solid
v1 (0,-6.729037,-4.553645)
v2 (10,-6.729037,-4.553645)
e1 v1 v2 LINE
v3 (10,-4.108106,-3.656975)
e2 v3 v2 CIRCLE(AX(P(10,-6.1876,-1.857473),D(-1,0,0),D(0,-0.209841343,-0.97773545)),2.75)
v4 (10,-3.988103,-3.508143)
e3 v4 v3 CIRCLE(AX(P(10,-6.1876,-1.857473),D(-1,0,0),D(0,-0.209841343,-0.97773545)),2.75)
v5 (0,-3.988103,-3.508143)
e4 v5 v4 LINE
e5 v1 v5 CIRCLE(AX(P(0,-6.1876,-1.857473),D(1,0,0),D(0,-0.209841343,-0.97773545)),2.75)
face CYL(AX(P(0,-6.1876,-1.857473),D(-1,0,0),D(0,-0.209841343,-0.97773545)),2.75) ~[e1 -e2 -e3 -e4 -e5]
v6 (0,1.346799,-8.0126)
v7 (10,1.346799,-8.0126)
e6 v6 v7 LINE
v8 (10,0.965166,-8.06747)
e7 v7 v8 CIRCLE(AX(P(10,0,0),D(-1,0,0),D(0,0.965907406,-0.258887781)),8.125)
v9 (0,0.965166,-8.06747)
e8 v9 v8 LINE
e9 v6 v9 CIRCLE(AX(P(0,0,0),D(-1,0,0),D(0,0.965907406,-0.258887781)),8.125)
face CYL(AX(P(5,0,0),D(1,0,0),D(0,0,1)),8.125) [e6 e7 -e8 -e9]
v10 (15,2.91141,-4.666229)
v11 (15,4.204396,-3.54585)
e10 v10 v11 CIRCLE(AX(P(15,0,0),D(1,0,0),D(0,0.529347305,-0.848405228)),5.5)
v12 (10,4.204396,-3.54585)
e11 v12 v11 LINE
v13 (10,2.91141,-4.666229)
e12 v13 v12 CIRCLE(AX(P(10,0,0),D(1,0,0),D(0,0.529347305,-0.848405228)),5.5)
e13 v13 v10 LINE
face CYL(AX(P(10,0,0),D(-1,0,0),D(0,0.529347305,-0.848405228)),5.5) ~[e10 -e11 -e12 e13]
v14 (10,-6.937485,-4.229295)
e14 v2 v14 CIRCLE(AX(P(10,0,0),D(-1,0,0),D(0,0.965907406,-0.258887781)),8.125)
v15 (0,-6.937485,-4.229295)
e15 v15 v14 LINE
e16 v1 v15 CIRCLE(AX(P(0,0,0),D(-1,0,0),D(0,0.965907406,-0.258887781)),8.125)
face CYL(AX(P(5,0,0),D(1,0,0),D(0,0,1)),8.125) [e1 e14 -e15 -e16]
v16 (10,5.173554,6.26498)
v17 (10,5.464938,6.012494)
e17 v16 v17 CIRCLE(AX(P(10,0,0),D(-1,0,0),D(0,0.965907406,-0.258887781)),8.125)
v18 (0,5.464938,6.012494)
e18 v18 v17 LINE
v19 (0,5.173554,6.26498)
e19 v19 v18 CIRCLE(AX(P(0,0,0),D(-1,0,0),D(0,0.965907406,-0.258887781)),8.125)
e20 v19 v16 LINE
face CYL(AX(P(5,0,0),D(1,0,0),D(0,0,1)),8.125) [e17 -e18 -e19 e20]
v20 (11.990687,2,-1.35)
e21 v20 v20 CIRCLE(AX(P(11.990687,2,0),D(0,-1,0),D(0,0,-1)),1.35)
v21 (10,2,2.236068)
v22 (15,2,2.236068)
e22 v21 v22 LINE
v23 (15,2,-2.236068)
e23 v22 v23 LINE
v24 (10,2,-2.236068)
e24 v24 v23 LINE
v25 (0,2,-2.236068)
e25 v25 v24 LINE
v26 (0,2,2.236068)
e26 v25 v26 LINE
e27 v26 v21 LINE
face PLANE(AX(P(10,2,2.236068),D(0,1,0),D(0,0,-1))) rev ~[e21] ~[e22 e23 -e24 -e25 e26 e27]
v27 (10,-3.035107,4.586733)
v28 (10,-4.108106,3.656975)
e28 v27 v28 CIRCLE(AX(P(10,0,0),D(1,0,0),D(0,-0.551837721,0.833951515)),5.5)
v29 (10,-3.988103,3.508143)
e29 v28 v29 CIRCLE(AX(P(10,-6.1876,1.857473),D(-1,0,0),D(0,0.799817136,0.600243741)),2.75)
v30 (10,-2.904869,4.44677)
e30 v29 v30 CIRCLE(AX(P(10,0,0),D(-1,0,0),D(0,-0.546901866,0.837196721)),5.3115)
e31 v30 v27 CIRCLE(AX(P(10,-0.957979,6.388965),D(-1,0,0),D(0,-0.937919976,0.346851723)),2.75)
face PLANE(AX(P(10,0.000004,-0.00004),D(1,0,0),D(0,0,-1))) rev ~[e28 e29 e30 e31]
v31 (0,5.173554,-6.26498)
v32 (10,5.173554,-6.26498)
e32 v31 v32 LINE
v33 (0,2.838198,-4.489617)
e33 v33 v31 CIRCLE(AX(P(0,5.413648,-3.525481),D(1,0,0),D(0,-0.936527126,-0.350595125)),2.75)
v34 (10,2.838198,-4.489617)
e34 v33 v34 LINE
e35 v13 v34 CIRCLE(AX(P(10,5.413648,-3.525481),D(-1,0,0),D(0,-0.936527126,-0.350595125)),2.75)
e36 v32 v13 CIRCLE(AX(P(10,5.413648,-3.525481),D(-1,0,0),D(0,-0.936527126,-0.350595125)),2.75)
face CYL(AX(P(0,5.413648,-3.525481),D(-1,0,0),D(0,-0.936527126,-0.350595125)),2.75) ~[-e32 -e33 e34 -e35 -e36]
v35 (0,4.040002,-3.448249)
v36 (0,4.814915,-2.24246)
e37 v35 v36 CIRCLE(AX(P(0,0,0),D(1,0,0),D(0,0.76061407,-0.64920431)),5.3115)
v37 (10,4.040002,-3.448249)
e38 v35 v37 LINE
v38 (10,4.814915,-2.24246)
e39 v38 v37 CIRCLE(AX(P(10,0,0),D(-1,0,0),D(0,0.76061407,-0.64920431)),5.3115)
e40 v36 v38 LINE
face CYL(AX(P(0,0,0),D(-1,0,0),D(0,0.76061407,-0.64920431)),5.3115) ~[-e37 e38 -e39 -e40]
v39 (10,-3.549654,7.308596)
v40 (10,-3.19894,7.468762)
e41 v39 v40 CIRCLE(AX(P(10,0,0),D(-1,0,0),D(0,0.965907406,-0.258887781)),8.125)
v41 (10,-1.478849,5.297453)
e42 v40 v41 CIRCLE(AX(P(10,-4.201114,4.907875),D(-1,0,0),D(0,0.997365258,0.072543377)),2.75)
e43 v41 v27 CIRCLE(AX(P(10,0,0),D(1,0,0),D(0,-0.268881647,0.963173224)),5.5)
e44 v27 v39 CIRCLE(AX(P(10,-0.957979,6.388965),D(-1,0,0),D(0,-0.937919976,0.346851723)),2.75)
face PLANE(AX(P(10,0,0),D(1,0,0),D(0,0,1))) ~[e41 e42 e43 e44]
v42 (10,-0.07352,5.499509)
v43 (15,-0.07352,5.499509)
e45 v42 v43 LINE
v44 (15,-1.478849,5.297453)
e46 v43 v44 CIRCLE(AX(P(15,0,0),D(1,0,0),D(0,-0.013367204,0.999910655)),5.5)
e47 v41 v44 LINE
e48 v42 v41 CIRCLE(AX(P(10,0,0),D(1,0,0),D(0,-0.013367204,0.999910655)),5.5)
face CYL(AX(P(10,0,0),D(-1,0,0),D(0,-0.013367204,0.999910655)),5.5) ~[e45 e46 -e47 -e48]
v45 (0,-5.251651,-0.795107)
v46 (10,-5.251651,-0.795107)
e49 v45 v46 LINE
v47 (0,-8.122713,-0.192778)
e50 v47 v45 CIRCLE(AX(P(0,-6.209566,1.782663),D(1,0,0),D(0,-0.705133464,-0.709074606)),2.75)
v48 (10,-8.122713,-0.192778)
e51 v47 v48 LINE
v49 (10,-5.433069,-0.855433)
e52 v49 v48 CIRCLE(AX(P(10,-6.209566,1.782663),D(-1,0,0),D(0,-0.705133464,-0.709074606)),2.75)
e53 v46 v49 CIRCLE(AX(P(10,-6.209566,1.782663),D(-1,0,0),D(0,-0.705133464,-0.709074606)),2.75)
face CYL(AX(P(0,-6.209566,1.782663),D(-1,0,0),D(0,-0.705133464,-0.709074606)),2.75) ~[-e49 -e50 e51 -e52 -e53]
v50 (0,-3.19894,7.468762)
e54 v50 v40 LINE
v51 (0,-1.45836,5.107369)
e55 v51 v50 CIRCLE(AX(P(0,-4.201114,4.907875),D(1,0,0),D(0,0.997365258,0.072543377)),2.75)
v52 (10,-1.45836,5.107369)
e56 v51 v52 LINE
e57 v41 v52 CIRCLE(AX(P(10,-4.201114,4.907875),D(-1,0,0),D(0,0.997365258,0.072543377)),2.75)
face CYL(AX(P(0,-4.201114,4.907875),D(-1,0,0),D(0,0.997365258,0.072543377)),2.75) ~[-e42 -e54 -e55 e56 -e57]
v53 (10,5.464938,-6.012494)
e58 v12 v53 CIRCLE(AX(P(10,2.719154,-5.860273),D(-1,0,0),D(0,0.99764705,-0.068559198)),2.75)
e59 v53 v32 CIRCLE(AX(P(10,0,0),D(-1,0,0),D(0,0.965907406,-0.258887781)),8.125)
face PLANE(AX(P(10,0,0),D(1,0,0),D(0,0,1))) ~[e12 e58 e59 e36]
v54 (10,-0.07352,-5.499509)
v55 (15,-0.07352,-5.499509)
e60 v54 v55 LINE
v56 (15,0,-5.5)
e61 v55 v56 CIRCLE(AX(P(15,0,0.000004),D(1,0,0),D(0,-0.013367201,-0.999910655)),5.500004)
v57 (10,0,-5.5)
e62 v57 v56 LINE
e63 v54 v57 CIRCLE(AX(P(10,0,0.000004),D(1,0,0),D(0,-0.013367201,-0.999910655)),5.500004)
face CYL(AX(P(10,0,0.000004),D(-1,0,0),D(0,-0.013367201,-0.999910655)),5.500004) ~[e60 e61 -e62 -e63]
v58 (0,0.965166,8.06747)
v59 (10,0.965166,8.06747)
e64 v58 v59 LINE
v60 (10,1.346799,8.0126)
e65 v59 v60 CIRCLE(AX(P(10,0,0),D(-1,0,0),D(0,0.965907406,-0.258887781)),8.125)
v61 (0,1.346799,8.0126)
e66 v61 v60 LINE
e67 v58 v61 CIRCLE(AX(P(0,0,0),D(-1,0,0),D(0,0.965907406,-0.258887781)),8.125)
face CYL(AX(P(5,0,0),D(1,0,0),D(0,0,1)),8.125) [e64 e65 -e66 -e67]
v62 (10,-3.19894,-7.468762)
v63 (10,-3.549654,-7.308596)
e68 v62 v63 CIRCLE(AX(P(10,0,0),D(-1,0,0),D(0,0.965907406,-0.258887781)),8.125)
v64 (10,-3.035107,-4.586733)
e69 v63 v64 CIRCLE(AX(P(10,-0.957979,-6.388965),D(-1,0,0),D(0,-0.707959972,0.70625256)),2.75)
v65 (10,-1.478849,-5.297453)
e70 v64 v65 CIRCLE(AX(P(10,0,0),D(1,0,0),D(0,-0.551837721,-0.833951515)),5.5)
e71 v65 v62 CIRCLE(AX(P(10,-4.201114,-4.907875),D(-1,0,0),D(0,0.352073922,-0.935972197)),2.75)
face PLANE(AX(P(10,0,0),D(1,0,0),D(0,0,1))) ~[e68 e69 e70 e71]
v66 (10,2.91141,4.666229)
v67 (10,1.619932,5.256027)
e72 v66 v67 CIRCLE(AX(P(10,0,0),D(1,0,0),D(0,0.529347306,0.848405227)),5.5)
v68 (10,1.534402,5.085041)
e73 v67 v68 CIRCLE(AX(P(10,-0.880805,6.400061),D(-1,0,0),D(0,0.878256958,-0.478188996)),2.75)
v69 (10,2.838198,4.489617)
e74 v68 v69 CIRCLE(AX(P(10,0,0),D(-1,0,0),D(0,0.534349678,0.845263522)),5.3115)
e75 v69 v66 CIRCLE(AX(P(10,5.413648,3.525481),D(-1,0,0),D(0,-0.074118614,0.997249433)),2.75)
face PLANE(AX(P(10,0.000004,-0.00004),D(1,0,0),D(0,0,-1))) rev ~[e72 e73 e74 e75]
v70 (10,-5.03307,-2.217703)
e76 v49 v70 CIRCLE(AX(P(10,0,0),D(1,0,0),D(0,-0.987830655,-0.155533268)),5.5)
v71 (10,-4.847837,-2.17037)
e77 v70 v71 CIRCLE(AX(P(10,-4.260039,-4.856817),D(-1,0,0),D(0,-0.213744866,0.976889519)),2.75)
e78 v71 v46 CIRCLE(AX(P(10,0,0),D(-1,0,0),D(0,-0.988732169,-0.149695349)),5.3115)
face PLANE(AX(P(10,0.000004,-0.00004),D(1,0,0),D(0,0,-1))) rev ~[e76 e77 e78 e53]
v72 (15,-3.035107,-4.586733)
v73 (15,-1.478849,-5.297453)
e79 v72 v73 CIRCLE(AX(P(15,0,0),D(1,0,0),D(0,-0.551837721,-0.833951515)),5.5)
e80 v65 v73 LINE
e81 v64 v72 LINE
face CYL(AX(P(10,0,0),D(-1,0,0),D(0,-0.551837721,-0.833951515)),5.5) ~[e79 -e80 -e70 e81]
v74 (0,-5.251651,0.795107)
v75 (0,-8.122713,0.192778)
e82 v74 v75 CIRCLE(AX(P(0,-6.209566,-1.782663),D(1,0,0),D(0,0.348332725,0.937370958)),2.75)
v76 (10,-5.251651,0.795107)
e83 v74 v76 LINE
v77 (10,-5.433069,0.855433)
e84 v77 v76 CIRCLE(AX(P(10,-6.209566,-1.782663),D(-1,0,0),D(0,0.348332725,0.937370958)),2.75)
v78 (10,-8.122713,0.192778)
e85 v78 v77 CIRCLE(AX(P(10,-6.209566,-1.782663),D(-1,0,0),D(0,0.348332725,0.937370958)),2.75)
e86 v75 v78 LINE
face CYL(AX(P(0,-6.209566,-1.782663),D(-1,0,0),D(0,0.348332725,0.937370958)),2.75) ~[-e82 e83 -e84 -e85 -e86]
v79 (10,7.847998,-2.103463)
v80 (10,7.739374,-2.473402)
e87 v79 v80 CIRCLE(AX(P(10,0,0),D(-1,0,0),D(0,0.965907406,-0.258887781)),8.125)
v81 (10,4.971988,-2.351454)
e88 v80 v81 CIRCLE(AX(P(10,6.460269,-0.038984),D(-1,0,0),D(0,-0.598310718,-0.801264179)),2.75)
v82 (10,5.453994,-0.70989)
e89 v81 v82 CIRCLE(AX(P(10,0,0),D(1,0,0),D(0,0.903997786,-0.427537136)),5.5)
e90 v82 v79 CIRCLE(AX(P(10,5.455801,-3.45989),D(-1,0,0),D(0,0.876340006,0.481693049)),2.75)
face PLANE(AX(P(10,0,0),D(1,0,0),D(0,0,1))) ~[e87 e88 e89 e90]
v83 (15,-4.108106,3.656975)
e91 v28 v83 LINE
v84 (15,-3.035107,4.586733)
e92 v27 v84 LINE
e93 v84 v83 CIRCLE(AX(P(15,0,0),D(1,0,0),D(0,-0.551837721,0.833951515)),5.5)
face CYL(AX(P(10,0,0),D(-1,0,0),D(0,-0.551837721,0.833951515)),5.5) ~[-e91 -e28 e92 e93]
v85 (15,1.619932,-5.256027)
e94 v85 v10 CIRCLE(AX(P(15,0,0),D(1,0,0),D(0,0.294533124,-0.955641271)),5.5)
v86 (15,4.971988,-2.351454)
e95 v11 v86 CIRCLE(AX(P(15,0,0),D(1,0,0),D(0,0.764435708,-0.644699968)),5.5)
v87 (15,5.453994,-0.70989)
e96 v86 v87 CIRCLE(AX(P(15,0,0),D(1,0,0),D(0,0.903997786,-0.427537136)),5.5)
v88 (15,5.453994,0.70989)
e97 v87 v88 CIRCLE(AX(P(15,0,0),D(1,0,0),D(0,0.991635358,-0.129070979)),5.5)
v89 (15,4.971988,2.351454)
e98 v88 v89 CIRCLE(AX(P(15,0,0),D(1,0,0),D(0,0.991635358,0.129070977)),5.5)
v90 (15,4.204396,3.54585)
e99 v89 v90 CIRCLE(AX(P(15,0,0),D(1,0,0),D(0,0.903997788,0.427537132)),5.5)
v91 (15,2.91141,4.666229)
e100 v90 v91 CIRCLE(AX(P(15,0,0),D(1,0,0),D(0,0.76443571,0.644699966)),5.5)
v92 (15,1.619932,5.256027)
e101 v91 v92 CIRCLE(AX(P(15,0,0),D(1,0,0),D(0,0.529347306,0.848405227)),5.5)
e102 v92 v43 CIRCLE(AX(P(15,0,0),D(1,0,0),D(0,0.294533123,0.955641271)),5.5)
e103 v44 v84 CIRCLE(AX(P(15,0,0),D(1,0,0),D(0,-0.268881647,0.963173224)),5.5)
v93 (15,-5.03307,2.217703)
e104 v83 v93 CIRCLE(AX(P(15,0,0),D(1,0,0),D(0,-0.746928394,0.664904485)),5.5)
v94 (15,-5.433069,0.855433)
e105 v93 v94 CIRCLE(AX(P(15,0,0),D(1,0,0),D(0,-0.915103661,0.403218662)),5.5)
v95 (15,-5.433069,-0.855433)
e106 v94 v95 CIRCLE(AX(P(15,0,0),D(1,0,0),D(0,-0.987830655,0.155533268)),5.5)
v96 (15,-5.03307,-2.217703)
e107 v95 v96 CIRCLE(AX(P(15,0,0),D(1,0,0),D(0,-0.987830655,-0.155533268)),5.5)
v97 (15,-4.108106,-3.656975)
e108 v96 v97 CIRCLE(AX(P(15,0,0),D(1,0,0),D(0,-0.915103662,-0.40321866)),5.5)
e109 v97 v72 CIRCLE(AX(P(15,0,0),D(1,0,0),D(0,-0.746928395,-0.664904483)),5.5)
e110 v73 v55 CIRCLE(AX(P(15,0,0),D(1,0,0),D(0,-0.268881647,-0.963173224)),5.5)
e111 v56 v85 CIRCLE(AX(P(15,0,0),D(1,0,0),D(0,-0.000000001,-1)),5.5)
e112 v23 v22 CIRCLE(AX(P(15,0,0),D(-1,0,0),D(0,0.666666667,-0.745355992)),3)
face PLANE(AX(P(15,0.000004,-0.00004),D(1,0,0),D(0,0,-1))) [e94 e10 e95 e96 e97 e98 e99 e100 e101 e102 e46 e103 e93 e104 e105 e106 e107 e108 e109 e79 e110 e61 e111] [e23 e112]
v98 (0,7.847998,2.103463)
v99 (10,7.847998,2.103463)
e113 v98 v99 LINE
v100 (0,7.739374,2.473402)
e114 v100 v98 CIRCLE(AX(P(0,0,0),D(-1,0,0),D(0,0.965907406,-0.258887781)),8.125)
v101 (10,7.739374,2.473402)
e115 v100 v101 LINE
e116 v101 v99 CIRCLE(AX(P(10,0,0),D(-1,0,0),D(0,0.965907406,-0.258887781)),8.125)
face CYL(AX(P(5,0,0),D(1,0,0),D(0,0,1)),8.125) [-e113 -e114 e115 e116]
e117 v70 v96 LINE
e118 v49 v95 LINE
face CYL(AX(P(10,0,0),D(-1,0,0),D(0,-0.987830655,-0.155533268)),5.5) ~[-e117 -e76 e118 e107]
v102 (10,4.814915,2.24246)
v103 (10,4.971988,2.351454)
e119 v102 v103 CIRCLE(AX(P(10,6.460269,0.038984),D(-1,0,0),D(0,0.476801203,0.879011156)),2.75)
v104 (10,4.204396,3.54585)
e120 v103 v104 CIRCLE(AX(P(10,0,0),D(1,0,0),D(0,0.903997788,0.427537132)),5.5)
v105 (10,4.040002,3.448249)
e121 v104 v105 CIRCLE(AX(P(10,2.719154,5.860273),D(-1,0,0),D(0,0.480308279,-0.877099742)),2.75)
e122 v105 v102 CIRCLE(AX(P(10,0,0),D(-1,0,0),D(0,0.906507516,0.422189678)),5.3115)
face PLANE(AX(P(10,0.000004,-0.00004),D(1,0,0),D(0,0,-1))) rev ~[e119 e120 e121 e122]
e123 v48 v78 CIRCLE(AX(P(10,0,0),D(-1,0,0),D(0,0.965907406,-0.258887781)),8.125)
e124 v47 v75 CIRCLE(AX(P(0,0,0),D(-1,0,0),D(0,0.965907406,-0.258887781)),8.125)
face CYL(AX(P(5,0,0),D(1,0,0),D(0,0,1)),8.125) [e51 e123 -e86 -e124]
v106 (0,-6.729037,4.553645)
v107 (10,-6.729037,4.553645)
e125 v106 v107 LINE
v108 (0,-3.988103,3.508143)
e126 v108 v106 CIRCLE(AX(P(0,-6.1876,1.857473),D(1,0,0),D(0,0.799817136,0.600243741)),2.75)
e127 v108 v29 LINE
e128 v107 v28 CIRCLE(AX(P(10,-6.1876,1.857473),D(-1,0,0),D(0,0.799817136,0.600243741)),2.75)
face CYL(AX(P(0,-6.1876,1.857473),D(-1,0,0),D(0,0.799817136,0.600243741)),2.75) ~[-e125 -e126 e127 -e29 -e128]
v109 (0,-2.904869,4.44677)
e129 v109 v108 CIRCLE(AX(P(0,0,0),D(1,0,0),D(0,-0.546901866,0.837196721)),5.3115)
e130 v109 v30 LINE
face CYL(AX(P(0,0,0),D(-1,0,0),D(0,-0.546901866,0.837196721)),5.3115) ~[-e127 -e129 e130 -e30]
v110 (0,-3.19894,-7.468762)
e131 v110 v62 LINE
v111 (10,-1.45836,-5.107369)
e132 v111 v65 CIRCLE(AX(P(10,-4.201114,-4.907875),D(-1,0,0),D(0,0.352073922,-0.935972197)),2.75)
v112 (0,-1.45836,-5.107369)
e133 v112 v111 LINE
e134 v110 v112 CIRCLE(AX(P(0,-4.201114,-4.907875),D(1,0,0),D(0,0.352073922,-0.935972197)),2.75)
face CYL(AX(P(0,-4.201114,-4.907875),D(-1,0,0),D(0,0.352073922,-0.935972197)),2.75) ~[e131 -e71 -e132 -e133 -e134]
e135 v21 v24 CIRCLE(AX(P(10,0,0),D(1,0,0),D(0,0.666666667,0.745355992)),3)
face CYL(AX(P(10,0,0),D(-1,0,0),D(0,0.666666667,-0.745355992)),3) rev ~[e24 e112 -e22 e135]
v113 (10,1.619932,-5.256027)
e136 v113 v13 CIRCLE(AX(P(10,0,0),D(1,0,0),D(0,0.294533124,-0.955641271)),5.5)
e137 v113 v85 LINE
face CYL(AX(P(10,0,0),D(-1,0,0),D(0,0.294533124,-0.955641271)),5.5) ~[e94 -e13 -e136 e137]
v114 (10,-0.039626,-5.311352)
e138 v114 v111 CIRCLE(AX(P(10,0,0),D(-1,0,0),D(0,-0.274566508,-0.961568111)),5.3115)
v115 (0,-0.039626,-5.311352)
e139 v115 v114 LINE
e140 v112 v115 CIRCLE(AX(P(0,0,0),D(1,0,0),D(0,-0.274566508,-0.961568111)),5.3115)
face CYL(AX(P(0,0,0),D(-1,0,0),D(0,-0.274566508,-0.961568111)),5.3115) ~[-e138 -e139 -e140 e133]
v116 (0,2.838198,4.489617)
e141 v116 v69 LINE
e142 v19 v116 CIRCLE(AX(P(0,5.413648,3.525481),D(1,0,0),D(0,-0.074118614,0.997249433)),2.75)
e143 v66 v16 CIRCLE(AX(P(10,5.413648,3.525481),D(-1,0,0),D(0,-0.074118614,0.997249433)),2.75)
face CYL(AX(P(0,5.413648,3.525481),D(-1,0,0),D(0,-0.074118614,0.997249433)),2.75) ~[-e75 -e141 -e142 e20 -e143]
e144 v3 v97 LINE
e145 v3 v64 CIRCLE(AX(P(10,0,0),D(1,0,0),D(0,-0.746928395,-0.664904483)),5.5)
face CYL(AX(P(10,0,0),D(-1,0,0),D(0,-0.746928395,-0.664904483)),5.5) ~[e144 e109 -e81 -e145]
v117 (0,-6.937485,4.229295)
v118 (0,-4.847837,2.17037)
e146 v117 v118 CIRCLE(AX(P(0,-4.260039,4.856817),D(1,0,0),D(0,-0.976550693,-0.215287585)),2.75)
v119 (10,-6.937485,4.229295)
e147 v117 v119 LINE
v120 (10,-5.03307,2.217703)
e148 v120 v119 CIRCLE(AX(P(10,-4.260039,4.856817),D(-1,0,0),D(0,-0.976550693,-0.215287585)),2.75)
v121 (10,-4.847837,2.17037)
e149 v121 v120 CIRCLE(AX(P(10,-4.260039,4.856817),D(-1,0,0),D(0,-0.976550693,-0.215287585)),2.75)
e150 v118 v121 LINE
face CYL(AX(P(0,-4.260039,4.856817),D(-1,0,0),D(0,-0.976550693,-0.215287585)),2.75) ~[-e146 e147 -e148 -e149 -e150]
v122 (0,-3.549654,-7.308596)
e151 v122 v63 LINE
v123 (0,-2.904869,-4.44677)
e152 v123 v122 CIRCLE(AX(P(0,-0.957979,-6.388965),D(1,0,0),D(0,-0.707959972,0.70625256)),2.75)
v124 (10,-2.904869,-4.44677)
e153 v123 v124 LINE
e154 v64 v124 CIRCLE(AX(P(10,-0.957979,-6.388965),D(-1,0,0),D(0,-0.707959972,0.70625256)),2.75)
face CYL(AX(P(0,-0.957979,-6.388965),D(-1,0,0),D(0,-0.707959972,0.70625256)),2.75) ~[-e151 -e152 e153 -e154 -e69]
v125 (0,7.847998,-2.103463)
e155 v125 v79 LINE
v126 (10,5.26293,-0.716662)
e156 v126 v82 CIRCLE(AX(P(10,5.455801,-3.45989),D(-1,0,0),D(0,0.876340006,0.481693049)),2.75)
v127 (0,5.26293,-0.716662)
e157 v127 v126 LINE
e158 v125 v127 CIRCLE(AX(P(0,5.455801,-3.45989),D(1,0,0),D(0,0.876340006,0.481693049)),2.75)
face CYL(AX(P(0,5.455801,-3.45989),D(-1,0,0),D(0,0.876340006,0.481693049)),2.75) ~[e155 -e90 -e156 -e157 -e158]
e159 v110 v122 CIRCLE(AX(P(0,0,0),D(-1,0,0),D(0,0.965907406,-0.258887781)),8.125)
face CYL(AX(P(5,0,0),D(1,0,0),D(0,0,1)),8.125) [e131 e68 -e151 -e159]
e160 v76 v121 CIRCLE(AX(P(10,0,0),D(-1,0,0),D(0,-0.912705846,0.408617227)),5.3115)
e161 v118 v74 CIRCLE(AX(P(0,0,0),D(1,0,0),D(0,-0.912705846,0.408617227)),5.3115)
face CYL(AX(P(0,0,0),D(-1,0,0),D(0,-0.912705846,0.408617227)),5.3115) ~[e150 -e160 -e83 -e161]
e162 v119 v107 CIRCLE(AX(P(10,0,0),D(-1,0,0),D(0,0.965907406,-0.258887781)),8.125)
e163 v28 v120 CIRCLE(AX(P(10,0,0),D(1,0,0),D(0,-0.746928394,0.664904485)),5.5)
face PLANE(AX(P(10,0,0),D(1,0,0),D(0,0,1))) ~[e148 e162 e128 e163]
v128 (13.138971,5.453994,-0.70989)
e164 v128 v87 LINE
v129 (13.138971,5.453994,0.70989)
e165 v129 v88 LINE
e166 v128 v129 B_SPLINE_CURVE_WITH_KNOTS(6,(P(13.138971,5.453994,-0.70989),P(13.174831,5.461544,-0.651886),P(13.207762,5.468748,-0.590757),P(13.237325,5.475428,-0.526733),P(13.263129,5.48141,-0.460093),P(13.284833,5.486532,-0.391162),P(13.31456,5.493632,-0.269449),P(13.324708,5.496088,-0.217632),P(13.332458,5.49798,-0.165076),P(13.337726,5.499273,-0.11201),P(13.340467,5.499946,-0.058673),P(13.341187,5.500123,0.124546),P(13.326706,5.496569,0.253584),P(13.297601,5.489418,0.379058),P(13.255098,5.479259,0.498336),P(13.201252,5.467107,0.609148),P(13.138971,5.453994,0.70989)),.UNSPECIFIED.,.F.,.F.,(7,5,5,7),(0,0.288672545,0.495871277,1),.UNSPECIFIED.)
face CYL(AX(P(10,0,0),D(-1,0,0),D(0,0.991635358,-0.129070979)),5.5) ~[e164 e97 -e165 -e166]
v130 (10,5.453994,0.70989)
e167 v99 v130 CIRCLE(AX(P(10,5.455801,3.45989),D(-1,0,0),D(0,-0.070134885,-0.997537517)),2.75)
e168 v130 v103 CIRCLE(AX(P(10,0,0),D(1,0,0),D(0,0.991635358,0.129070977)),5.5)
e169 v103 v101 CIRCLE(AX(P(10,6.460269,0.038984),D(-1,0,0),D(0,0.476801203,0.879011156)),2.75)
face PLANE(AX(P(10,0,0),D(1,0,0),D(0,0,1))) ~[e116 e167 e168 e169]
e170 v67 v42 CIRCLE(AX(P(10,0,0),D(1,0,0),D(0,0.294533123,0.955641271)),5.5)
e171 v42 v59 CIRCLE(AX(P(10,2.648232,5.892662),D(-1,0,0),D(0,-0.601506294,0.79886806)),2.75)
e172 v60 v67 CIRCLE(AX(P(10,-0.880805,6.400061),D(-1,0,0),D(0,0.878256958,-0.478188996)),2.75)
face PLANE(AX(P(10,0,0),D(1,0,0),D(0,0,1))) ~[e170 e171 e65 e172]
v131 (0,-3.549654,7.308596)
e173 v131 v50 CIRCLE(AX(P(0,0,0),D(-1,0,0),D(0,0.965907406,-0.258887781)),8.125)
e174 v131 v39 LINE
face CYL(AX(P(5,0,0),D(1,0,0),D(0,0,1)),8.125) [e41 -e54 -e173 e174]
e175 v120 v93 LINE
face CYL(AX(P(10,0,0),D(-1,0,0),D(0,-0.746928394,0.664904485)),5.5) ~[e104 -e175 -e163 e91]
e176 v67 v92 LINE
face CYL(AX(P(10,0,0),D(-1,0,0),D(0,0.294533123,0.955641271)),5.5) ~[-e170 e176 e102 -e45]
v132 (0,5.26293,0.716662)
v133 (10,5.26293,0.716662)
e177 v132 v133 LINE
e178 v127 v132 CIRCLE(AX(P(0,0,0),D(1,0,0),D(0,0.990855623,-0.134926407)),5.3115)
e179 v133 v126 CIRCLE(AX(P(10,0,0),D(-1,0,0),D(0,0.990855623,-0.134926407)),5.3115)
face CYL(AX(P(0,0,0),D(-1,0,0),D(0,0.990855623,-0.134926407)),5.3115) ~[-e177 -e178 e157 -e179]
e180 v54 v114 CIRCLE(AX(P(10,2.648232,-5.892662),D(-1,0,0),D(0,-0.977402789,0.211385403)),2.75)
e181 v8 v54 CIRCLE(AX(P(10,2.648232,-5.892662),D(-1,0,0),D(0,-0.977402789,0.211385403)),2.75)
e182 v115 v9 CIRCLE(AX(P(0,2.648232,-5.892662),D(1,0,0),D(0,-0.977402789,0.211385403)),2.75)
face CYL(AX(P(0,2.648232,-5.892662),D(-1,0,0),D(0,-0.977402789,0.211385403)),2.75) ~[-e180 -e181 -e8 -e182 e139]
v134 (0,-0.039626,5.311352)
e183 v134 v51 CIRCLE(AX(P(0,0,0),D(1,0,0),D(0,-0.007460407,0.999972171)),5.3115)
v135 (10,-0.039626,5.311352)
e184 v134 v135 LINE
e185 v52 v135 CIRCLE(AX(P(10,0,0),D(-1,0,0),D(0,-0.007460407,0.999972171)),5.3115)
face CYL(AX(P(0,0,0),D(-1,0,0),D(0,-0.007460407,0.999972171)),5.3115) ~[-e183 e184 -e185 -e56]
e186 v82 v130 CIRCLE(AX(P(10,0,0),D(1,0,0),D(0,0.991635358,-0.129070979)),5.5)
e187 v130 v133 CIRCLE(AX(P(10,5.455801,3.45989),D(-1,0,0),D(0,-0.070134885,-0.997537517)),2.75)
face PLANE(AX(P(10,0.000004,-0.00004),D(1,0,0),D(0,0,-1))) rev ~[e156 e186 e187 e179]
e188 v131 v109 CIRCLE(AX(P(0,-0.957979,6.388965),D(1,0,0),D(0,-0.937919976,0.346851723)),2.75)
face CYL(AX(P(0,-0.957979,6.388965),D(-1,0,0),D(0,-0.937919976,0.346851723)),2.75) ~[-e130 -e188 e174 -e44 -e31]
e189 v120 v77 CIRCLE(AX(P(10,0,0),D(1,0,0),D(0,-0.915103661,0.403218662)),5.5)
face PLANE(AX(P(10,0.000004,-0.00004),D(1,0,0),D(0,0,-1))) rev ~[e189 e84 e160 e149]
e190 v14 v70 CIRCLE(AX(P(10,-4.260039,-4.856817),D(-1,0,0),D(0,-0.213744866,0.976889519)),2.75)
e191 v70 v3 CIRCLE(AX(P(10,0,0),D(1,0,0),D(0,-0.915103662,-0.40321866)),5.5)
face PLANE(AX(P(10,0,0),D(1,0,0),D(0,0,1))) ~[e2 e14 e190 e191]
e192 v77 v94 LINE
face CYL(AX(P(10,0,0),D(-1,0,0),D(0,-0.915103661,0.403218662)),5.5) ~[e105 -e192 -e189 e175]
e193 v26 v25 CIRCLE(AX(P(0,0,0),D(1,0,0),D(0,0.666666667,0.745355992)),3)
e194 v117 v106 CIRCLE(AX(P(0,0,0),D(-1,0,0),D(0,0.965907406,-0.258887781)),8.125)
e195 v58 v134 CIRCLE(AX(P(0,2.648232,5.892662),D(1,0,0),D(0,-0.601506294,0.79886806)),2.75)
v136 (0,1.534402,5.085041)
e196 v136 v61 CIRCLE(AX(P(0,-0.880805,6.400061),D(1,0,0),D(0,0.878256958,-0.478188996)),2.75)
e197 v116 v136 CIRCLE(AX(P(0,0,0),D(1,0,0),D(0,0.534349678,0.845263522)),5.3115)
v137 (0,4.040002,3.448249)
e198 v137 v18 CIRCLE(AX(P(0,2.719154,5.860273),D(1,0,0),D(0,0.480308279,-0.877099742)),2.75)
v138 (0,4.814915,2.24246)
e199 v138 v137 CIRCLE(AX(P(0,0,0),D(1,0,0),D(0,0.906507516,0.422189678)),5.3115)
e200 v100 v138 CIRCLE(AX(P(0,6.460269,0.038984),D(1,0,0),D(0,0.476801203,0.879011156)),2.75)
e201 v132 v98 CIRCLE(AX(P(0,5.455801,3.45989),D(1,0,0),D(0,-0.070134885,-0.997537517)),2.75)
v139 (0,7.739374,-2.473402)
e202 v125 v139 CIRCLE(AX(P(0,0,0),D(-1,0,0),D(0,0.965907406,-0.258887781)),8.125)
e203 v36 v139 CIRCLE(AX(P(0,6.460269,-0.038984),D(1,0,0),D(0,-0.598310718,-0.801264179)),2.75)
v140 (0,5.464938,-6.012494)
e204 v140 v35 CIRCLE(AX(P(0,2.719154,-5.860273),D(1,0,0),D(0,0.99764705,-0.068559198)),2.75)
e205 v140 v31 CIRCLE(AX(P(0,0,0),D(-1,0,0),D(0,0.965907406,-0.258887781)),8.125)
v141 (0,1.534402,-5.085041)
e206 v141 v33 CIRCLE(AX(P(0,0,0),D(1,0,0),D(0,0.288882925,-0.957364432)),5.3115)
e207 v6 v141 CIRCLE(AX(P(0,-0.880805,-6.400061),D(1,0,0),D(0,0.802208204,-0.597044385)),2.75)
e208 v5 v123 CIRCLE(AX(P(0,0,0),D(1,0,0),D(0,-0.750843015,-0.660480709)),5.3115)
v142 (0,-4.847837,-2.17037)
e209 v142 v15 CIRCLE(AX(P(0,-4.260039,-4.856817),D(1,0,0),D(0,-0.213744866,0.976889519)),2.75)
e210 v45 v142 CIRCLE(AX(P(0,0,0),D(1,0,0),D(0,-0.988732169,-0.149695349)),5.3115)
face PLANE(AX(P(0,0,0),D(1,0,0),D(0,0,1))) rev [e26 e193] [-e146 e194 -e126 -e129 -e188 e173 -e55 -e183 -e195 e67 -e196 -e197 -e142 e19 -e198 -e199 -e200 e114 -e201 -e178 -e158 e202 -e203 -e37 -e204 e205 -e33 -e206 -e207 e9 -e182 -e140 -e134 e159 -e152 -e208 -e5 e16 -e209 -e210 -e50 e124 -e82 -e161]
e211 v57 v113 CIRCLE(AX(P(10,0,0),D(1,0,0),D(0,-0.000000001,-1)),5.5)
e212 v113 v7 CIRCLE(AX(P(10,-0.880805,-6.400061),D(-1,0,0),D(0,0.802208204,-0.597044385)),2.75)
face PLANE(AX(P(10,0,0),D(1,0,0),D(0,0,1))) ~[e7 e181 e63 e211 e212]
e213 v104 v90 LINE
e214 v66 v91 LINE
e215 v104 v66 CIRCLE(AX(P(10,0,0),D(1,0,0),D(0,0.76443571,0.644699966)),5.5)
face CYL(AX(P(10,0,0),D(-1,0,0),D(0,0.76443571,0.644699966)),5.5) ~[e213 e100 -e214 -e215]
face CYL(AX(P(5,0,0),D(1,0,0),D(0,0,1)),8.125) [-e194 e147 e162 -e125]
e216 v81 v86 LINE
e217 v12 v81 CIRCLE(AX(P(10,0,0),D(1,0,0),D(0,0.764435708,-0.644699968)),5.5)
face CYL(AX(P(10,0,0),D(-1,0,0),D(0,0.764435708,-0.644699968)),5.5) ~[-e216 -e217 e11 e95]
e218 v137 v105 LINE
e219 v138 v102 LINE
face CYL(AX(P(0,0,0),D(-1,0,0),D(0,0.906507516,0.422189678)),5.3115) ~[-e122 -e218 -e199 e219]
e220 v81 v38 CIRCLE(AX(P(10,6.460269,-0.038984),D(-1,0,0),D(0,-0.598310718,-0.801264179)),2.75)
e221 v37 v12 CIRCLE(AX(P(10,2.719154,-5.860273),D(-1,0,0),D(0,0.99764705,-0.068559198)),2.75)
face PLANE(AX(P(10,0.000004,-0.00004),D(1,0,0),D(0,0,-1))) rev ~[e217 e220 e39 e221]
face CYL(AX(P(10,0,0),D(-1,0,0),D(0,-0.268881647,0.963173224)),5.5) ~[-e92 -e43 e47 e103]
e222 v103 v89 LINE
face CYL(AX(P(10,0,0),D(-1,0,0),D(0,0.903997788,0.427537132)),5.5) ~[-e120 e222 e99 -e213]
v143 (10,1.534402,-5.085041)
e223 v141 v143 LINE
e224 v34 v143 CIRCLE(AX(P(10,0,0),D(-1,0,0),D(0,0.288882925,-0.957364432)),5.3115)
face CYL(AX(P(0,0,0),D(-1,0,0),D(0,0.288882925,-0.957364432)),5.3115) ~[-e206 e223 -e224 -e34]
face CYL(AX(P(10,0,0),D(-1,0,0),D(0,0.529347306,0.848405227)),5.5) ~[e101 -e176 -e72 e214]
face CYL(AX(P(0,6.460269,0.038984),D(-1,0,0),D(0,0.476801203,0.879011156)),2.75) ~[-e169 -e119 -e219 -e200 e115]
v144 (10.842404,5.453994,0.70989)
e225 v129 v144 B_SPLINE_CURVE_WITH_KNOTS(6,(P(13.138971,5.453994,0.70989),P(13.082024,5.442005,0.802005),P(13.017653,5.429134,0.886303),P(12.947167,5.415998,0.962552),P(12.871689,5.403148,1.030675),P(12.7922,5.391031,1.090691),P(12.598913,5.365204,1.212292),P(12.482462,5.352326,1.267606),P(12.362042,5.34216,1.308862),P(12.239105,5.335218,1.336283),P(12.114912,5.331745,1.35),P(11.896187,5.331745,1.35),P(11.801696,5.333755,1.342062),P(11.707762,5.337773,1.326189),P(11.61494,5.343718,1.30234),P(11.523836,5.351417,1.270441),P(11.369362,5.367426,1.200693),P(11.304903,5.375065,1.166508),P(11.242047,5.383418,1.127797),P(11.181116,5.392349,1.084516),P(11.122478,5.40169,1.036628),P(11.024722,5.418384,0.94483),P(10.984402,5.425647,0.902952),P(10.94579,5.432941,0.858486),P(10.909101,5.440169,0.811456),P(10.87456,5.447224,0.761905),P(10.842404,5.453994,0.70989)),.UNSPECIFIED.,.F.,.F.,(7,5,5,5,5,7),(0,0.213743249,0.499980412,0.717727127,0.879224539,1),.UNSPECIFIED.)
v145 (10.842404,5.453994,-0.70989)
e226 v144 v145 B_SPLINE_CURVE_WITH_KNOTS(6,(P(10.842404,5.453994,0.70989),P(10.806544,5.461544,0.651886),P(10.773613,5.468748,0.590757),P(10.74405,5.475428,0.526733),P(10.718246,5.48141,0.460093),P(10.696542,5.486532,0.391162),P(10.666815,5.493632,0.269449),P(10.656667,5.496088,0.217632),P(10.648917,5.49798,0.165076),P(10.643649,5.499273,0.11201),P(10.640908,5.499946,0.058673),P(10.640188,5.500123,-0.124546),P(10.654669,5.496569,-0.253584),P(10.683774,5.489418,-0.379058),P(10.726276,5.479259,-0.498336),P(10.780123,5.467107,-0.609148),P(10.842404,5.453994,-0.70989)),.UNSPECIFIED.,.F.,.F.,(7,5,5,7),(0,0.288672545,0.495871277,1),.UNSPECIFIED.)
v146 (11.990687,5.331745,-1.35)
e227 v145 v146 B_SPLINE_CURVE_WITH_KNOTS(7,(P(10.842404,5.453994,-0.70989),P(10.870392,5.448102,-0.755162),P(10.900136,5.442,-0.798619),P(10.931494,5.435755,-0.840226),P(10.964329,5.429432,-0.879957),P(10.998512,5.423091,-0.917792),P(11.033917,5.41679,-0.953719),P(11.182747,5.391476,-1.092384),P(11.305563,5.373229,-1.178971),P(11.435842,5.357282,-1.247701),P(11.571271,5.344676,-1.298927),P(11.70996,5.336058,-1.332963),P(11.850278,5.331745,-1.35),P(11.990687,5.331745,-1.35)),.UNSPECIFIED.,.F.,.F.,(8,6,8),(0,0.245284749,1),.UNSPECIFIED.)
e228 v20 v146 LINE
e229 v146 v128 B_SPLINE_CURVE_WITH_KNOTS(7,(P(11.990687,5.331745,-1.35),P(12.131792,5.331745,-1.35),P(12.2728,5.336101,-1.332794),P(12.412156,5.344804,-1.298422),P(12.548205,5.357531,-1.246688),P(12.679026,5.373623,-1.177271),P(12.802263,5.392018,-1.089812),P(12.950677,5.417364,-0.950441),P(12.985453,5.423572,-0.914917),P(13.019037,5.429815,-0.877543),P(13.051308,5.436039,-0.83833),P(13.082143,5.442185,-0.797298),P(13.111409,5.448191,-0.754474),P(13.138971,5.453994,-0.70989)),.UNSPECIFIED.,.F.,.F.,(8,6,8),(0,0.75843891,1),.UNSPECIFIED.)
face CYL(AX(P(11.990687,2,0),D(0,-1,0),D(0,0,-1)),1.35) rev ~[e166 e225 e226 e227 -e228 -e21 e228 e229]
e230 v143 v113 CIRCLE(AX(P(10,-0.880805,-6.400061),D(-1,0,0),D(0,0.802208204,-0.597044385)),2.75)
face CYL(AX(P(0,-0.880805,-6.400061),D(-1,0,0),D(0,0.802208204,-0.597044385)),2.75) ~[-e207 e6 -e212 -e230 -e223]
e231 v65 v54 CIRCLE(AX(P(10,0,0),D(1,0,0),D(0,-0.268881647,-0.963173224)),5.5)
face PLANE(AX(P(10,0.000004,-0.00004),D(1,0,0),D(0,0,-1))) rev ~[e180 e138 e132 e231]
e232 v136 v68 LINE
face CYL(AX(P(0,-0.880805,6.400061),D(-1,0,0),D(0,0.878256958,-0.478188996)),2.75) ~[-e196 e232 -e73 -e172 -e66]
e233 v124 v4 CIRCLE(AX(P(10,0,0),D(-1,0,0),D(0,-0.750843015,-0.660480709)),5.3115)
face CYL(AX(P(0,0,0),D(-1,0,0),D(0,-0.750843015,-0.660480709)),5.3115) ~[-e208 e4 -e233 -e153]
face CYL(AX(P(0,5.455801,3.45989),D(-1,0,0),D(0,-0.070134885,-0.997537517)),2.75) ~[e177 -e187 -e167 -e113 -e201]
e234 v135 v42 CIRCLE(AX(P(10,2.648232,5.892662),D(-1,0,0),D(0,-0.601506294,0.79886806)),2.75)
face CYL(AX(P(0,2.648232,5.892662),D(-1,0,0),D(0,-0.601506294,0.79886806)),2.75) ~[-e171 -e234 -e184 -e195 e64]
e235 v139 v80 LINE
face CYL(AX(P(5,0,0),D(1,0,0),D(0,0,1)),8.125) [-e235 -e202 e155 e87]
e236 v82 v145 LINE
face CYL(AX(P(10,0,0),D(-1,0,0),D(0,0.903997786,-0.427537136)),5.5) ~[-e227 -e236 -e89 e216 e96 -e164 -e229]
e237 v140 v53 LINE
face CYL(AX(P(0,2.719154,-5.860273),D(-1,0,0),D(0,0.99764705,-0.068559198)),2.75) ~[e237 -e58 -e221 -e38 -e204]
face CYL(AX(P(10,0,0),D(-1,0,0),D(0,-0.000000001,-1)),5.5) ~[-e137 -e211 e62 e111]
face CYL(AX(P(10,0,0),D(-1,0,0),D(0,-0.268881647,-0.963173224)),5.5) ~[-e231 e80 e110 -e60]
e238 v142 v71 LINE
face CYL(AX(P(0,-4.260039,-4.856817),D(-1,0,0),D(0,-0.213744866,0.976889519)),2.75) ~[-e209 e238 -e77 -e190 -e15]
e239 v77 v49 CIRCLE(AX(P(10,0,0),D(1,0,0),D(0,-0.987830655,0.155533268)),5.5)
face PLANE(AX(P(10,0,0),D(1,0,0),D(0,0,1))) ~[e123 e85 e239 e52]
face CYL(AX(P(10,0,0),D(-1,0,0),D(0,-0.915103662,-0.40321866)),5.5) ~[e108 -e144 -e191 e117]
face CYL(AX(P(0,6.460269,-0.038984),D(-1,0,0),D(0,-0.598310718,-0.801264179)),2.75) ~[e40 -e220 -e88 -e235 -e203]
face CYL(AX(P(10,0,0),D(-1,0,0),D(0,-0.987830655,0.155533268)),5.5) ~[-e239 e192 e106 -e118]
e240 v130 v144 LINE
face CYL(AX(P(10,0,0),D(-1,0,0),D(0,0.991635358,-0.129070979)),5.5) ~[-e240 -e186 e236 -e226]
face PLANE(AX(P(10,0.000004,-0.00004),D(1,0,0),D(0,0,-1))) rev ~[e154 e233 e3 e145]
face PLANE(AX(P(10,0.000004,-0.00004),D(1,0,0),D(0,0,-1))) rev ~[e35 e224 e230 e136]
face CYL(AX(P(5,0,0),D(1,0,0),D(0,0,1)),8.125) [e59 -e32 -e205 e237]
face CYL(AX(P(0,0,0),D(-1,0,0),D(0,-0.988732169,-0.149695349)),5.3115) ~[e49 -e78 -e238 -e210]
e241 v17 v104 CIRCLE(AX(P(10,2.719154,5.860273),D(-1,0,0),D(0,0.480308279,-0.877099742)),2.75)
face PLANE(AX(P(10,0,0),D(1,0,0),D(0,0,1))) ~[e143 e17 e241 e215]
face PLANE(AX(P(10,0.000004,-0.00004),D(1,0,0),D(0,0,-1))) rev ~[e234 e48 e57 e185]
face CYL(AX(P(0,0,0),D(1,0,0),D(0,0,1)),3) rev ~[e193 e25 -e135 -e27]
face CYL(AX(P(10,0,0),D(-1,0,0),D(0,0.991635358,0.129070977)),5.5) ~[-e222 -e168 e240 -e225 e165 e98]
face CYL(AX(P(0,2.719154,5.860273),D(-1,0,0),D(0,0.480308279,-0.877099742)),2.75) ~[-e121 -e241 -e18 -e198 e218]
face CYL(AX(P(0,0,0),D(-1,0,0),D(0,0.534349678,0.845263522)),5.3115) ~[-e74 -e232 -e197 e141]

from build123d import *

# Parameters (mm, degrees)
BASPROSKE_W              = 10
BASPROSKE_H              = 8.125
TOOTHCUT_DEPTH           = 16.232572009
TEETHCUTS_COUNT          = 11
TEETHCUTS_ANGLE          = 327.272727273
BORSKE_R                 = 3
BORE_DEPTH               = 50.0000508
RESSALTO_EXTRUS_O1_DEPTH = 10
RESSALTO_EXTRUS_O2_DEPTH = 5
ESBO_O3_R                = 1.35
CORTE_EXTRUS_O1_DEPTH    = 10


with BuildPart() as part:
    # BasProSke → Base-Revolve (revolve)
    with BuildSketch(Plane(origin=(0, 0, 0), x_dir=(1, 0, 0), z_dir=(0, 1, 0)), mode=Mode.PRIVATE) as base_revolve_sk:
        with Locations((5, 4.0625)):
            Rectangle(BASPROSKE_W, BASPROSKE_H)
    revolve(base_revolve_sk.sketch.rotate(Axis((-10, 0, 0), (1, 0, 0)), 180), axis=Axis((-10, 0, 0), (1, 0, 0)))

    # TooCutSke → ToothCut (cut, through all)
    with BuildSketch(Plane(origin=(0, 0, 0), x_dir=(0, 0, -1), z_dir=(1, 0, 0))):
        with BuildLine():
            ThreePointArc((0.716661614, 5.262929639), (0, 5.3115), (-0.716661614, 5.262929639))
            ThreePointArc((-0.716661614, 5.262929639), (-1.045232485, 6.771828733), (-2.135233901, 7.865735589))
            ThreePointArc((-2.135233901, 7.865735589), (0, 8.1504), (2.135233901, 7.865735589))
            ThreePointArc((2.135233901, 7.865735589), (1.045232485, 6.771828733), (0.716661614, 5.262929639))
        make_face()
    toothcut = extrude(amount=TOOTHCUT_DEPTH, mode=Mode.SUBTRACT)

    # TeethCuts: ToothCut ×11 about axis
    teethcuts_axis = Axis((-10, 0, 0), (1, 0, 0))
    for i in range(1, TEETHCUTS_COUNT):
        add(toothcut.rotate(teethcuts_axis, i * TEETHCUTS_ANGLE / (TEETHCUTS_COUNT - 1)), mode=Mode.SUBTRACT)

    # BorSke → Bore (cut, symmetric)
    with BuildSketch(Plane(origin=(0, 0, 0), x_dir=(0, 0, -1), z_dir=(1, 0, 0))):
        with Locations(Location((0, 0, 0), (0, 0, 180))):
            Circle(BORSKE_R)
    extrude(amount=BORE_DEPTH, both=True, mode=Mode.SUBTRACT)

    # Esboço1 → Ressalto-extrusão1 (add)
    with BuildSketch(Plane.ZY):
        with BuildLine():
            Line((-2.236067977, 2), (0, 2))
            Line((0, 2), (2.236067977, 2))
            ThreePointArc((2.236067977, 2), (0, 3), (-2.236067977, 2))
        make_face()
    extrude(amount=-RESSALTO_EXTRUS_O1_DEPTH)

    # Esboço2 → Ressalto-extrusão2 (add)
    with BuildSketch(Plane(origin=(10, 0, 0), x_dir=(0, 0, -1), z_dir=(1, 0, 0))):
        with BuildLine():
            ThreePointArc((5.499508602, -0.073519622), (5.499877149, -0.036760632), (5.5, 0))
            ThreePointArc((5.5, 0), (5.438664747, 0.819100589), (5.256026991, 1.619932181))
            ThreePointArc((5.256026991, 1.619932181), (5.169790583, 1.578653269), (5.085041182, 1.534401651))
            ThreePointArc((5.085041182, 1.534401651), (4.831510343, 2.206476842), (4.489617195, 2.838198318))
            ThreePointArc((4.489617195, 2.838198318), (4.578559391, 2.873268994), (4.666228749, 2.911410184))
            ThreePointArc((4.666228749, 2.911410184), (4.156622659, 3.601734037), (3.545849816, 4.204396399))
            ThreePointArc((3.545849816, 4.204396399), (3.495620198, 4.123047446), (3.448248696, 4.040001631))
            ThreePointArc((3.448248696, 4.040001631), (2.871613702, 4.46831814), (2.242460468, 4.814914672))
            ThreePointArc((2.242460468, 4.814914672), (2.298322765, 4.892503784), (2.351454238, 4.971987828))
            ThreePointArc((2.351454238, 4.971987828), (1.549529063, 5.277211355), (0.709890379, 5.453994467))
            ThreePointArc((0.709890379, 5.453994467), (0.711615099, 5.358403192), (0.716661614, 5.262929639))
            ThreePointArc((0.716661614, 5.262929639), (0, 5.3115), (-0.716661614, 5.262929639))
            ThreePointArc((-0.716661614, 5.262929639), (-0.711615099, 5.358403192), (-0.709890379, 5.453994467))
            ThreePointArc((-0.709890379, 5.453994467), (-1.549529063, 5.277211355), (-2.351454238, 4.971987828))
            ThreePointArc((-2.351454238, 4.971987828), (-2.298322765, 4.892503784), (-2.242460468, 4.814914672))
            ThreePointArc((-2.242460468, 4.814914672), (-2.871613702, 4.46831814), (-3.448248696, 4.040001631))
            ThreePointArc((-3.448248696, 4.040001631), (-3.495620198, 4.123047446), (-3.545849816, 4.204396399))
            ThreePointArc((-3.545849816, 4.204396399), (-4.156622659, 3.601734037), (-4.666228749, 2.911410184))
            ThreePointArc((-4.666228749, 2.911410184), (-4.578559391, 2.873268994), (-4.489617195, 2.838198318))
            ThreePointArc((-4.489617195, 2.838198318), (-4.831510343, 2.206476842), (-5.085041182, 1.534401651))
            ThreePointArc((-5.085041182, 1.534401651), (-5.169790583, 1.578653269), (-5.256026991, 1.619932181))
            ThreePointArc((-5.256026991, 1.619932181), (-5.44401793, 0.782731611), (-5.499508602, -0.073519622))
            ThreePointArc((-5.499508602, -0.073519622), (-5.405135761, -0.0582084), (-5.311352185, -0.039625949))
            ThreePointArc((-5.311352185, -0.039625949), (-5.257436589, -0.755905263), (-5.107369022, -1.458360012))
            ThreePointArc((-5.107369022, -1.458360012), (-5.202588986, -1.466952167), (-5.297452733, -1.478849059))
            ThreePointArc((-5.297452733, -1.478849059), (-5.002975974, -2.284782572), (-4.586733332, -3.035107468))
            ThreePointArc((-4.586733332, -3.035107468), (-4.515619718, -2.971205038), (-4.446770385, -2.904869256))
            ThreePointArc((-4.446770385, -2.904869256), (-4.014163864, -3.478292788), (-3.508143284, -3.988102675))
            ThreePointArc((-3.508143284, -3.988102675), (-3.583602145, -4.046810655), (-3.656974663, -4.108106171))
            ThreePointArc((-3.656974663, -4.108106171), (-2.973524496, -4.626894431), (-2.217702637, -5.033070138))
            ThreePointArc((-2.217702637, -5.033070138), (-2.19242632, -4.940865071), (-2.170370406, -4.8478371))
            ThreePointArc((-2.170370406, -4.8478371), (-1.496422476, -5.096346929), (-0.795106841, -5.251650918))
            ThreePointArc((-0.795106841, -5.251650918), (-0.826846944, -5.341835354), (-0.855432976, -5.433068601))
            ThreePointArc((-0.855432976, -5.433068601), (0, -5.5), (0.855432976, -5.433068601))
            ThreePointArc((0.855432976, -5.433068601), (0.826846944, -5.341835354), (0.795106841, -5.251650918))
            ThreePointArc((0.795106841, -5.251650918), (1.496422476, -5.096346929), (2.170370406, -4.8478371))
            ThreePointArc((2.170370406, -4.8478371), (2.19242632, -4.940865071), (2.217702637, -5.033070138))
            ThreePointArc((2.217702637, -5.033070138), (2.973524496, -4.626894431), (3.656974663, -4.108106171))
            ThreePointArc((3.656974663, -4.108106171), (3.583602145, -4.046810655), (3.508143284, -3.988102675))
            ThreePointArc((3.508143284, -3.988102675), (4.014163864, -3.478292788), (4.446770385, -2.904869256))
            ThreePointArc((4.446770385, -2.904869256), (4.515619718, -2.971205038), (4.586733332, -3.035107468))
            ThreePointArc((4.586733332, -3.035107468), (5.002975974, -2.284782572), (5.297452733, -1.478849059))
            ThreePointArc((5.297452733, -1.478849059), (5.202588986, -1.466952167), (5.107369022, -1.458360012))
            ThreePointArc((5.107369022, -1.458360012), (5.257436589, -0.755905263), (5.311352185, -0.039625949))
            ThreePointArc((5.311352185, -0.039625949), (5.405135761, -0.0582084), (5.499508602, -0.073519622))
        make_face()
        with BuildLine():
            Line((-2.236067977, 2), (2.236067977, 2))
            ThreePointArc((2.236067977, 2), (0, -3), (-2.236067977, 2))
        make_face(mode=Mode.SUBTRACT)
        with BuildLine():
            ThreePointArc((3.448248696, 4.040001631), (3.495620198, 4.123047446), (3.545849816, 4.204396399))
            ThreePointArc((3.545849816, 4.204396399), (2.973524496, 4.626894431), (2.351454238, 4.971987828))
            ThreePointArc((2.351454238, 4.971987828), (2.298322765, 4.892503784), (2.242460468, 4.814914672))
            ThreePointArc((2.242460468, 4.814914672), (2.871613702, 4.46831814), (3.448248696, 4.040001631))
        make_face()
        with BuildLine():
            ThreePointArc((0.716661614, 5.262929639), (0.711615099, 5.358403192), (0.709890379, 5.453994467))
            ThreePointArc((0.709890379, 5.453994467), (0, 5.5), (-0.709890379, 5.453994467))
            ThreePointArc((-0.709890379, 5.453994467), (-0.711615099, 5.358403192), (-0.716661614, 5.262929639))
            ThreePointArc((-0.716661614, 5.262929639), (0, 5.3115), (0.716661614, 5.262929639))
        make_face()
        with BuildLine():
            ThreePointArc((-2.242460468, 4.814914672), (-2.298322765, 4.892503784), (-2.351454238, 4.971987828))
            ThreePointArc((-2.351454238, 4.971987828), (-2.973524496, 4.626894431), (-3.545849816, 4.204396399))
            ThreePointArc((-3.545849816, 4.204396399), (-3.495620198, 4.123047446), (-3.448248696, 4.040001631))
            ThreePointArc((-3.448248696, 4.040001631), (-2.871613702, 4.46831814), (-2.242460468, 4.814914672))
        make_face()
        with BuildLine():
            ThreePointArc((-4.489617195, 2.838198318), (-4.578559391, 2.873268994), (-4.666228749, 2.911410184))
            ThreePointArc((-4.666228749, 2.911410184), (-5.002975974, 2.284782572), (-5.256026991, 1.619932181))
            ThreePointArc((-5.256026991, 1.619932181), (-5.169790583, 1.578653269), (-5.085041182, 1.534401651))
            ThreePointArc((-5.085041182, 1.534401651), (-4.831510343, 2.206476842), (-4.489617195, 2.838198318))
        make_face()
        with BuildLine():
            ThreePointArc((-5.311352185, -0.039625949), (-5.405135761, -0.0582084), (-5.499508602, -0.073519622))
            ThreePointArc((-5.499508602, -0.073519622), (-5.44401793, -0.782731611), (-5.297452733, -1.478849059))
            ThreePointArc((-5.297452733, -1.478849059), (-5.202588986, -1.466952167), (-5.107369022, -1.458360012))
            ThreePointArc((-5.107369022, -1.458360012), (-5.257436589, -0.755905263), (-5.311352185, -0.039625949))
        make_face()
        with BuildLine():
            ThreePointArc((-4.586733332, -3.035107468), (-4.156622659, -3.601734037), (-3.656974663, -4.108106171))
            ThreePointArc((-3.656974663, -4.108106171), (-3.583602145, -4.046810655), (-3.508143284, -3.988102675))
            ThreePointArc((-3.508143284, -3.988102675), (-4.014163864, -3.478292788), (-4.446770385, -2.904869256))
            ThreePointArc((-4.446770385, -2.904869256), (-4.515619718, -2.971205038), (-4.586733332, -3.035107468))
        make_face()
        with BuildLine():
            ThreePointArc((-2.217702637, -5.033070138), (-1.549529063, -5.277211355), (-0.855432976, -5.433068601))
            ThreePointArc((-0.855432976, -5.433068601), (-0.826846944, -5.341835354), (-0.795106841, -5.251650918))
            ThreePointArc((-0.795106841, -5.251650918), (-1.496422476, -5.096346929), (-2.170370406, -4.8478371))
            ThreePointArc((-2.170370406, -4.8478371), (-2.19242632, -4.940865071), (-2.217702637, -5.033070138))
        make_face()
        with BuildLine():
            ThreePointArc((0.855432976, -5.433068601), (1.549529063, -5.277211355), (2.217702637, -5.033070138))
            ThreePointArc((2.217702637, -5.033070138), (2.19242632, -4.940865071), (2.170370406, -4.8478371))
            ThreePointArc((2.170370406, -4.8478371), (1.496422476, -5.096346929), (0.795106841, -5.251650918))
            ThreePointArc((0.795106841, -5.251650918), (0.826846944, -5.341835354), (0.855432976, -5.433068601))
        make_face()
        with BuildLine():
            ThreePointArc((3.656974663, -4.108106171), (4.156622659, -3.601734037), (4.586733332, -3.035107468))
            ThreePointArc((4.586733332, -3.035107468), (4.515619718, -2.971205038), (4.446770385, -2.904869256))
            ThreePointArc((4.446770385, -2.904869256), (4.014163864, -3.478292788), (3.508143284, -3.988102675))
            ThreePointArc((3.508143284, -3.988102675), (3.583602145, -4.046810655), (3.656974663, -4.108106171))
        make_face()
        with BuildLine():
            ThreePointArc((5.297452733, -1.478849059), (5.44401793, -0.782731611), (5.499508602, -0.073519622))
            ThreePointArc((5.499508602, -0.073519622), (5.405135761, -0.0582084), (5.311352185, -0.039625949))
            ThreePointArc((5.311352185, -0.039625949), (5.257436589, -0.755905263), (5.107369022, -1.458360012))
            ThreePointArc((5.107369022, -1.458360012), (5.202588986, -1.466952167), (5.297452733, -1.478849059))
        make_face()
        with BuildLine():
            ThreePointArc((5.085041182, 1.534401651), (5.169790583, 1.578653269), (5.256026991, 1.619932181))
            ThreePointArc((5.256026991, 1.619932181), (5.002975974, 2.284782572), (4.666228749, 2.911410184))
            ThreePointArc((4.666228749, 2.911410184), (4.578559391, 2.873268994), (4.489617195, 2.838198318))
            ThreePointArc((4.489617195, 2.838198318), (4.831510343, 2.206476842), (5.085041182, 1.534401651))
        make_face()
    extrude(amount=RESSALTO_EXTRUS_O2_DEPTH)

    # Esboço3 → Corte-extrusão1 (cut)
    with BuildSketch(Plane.XZ.offset(-2)):
        with Locations(Location((11.990687454, 0, 0), (0, 0, 270))):
            Circle(ESBO_O3_R)
    extrude(amount=-CORTE_EXTRUS_O1_DEPTH, mode=Mode.SUBTRACT)


solid = part.part
